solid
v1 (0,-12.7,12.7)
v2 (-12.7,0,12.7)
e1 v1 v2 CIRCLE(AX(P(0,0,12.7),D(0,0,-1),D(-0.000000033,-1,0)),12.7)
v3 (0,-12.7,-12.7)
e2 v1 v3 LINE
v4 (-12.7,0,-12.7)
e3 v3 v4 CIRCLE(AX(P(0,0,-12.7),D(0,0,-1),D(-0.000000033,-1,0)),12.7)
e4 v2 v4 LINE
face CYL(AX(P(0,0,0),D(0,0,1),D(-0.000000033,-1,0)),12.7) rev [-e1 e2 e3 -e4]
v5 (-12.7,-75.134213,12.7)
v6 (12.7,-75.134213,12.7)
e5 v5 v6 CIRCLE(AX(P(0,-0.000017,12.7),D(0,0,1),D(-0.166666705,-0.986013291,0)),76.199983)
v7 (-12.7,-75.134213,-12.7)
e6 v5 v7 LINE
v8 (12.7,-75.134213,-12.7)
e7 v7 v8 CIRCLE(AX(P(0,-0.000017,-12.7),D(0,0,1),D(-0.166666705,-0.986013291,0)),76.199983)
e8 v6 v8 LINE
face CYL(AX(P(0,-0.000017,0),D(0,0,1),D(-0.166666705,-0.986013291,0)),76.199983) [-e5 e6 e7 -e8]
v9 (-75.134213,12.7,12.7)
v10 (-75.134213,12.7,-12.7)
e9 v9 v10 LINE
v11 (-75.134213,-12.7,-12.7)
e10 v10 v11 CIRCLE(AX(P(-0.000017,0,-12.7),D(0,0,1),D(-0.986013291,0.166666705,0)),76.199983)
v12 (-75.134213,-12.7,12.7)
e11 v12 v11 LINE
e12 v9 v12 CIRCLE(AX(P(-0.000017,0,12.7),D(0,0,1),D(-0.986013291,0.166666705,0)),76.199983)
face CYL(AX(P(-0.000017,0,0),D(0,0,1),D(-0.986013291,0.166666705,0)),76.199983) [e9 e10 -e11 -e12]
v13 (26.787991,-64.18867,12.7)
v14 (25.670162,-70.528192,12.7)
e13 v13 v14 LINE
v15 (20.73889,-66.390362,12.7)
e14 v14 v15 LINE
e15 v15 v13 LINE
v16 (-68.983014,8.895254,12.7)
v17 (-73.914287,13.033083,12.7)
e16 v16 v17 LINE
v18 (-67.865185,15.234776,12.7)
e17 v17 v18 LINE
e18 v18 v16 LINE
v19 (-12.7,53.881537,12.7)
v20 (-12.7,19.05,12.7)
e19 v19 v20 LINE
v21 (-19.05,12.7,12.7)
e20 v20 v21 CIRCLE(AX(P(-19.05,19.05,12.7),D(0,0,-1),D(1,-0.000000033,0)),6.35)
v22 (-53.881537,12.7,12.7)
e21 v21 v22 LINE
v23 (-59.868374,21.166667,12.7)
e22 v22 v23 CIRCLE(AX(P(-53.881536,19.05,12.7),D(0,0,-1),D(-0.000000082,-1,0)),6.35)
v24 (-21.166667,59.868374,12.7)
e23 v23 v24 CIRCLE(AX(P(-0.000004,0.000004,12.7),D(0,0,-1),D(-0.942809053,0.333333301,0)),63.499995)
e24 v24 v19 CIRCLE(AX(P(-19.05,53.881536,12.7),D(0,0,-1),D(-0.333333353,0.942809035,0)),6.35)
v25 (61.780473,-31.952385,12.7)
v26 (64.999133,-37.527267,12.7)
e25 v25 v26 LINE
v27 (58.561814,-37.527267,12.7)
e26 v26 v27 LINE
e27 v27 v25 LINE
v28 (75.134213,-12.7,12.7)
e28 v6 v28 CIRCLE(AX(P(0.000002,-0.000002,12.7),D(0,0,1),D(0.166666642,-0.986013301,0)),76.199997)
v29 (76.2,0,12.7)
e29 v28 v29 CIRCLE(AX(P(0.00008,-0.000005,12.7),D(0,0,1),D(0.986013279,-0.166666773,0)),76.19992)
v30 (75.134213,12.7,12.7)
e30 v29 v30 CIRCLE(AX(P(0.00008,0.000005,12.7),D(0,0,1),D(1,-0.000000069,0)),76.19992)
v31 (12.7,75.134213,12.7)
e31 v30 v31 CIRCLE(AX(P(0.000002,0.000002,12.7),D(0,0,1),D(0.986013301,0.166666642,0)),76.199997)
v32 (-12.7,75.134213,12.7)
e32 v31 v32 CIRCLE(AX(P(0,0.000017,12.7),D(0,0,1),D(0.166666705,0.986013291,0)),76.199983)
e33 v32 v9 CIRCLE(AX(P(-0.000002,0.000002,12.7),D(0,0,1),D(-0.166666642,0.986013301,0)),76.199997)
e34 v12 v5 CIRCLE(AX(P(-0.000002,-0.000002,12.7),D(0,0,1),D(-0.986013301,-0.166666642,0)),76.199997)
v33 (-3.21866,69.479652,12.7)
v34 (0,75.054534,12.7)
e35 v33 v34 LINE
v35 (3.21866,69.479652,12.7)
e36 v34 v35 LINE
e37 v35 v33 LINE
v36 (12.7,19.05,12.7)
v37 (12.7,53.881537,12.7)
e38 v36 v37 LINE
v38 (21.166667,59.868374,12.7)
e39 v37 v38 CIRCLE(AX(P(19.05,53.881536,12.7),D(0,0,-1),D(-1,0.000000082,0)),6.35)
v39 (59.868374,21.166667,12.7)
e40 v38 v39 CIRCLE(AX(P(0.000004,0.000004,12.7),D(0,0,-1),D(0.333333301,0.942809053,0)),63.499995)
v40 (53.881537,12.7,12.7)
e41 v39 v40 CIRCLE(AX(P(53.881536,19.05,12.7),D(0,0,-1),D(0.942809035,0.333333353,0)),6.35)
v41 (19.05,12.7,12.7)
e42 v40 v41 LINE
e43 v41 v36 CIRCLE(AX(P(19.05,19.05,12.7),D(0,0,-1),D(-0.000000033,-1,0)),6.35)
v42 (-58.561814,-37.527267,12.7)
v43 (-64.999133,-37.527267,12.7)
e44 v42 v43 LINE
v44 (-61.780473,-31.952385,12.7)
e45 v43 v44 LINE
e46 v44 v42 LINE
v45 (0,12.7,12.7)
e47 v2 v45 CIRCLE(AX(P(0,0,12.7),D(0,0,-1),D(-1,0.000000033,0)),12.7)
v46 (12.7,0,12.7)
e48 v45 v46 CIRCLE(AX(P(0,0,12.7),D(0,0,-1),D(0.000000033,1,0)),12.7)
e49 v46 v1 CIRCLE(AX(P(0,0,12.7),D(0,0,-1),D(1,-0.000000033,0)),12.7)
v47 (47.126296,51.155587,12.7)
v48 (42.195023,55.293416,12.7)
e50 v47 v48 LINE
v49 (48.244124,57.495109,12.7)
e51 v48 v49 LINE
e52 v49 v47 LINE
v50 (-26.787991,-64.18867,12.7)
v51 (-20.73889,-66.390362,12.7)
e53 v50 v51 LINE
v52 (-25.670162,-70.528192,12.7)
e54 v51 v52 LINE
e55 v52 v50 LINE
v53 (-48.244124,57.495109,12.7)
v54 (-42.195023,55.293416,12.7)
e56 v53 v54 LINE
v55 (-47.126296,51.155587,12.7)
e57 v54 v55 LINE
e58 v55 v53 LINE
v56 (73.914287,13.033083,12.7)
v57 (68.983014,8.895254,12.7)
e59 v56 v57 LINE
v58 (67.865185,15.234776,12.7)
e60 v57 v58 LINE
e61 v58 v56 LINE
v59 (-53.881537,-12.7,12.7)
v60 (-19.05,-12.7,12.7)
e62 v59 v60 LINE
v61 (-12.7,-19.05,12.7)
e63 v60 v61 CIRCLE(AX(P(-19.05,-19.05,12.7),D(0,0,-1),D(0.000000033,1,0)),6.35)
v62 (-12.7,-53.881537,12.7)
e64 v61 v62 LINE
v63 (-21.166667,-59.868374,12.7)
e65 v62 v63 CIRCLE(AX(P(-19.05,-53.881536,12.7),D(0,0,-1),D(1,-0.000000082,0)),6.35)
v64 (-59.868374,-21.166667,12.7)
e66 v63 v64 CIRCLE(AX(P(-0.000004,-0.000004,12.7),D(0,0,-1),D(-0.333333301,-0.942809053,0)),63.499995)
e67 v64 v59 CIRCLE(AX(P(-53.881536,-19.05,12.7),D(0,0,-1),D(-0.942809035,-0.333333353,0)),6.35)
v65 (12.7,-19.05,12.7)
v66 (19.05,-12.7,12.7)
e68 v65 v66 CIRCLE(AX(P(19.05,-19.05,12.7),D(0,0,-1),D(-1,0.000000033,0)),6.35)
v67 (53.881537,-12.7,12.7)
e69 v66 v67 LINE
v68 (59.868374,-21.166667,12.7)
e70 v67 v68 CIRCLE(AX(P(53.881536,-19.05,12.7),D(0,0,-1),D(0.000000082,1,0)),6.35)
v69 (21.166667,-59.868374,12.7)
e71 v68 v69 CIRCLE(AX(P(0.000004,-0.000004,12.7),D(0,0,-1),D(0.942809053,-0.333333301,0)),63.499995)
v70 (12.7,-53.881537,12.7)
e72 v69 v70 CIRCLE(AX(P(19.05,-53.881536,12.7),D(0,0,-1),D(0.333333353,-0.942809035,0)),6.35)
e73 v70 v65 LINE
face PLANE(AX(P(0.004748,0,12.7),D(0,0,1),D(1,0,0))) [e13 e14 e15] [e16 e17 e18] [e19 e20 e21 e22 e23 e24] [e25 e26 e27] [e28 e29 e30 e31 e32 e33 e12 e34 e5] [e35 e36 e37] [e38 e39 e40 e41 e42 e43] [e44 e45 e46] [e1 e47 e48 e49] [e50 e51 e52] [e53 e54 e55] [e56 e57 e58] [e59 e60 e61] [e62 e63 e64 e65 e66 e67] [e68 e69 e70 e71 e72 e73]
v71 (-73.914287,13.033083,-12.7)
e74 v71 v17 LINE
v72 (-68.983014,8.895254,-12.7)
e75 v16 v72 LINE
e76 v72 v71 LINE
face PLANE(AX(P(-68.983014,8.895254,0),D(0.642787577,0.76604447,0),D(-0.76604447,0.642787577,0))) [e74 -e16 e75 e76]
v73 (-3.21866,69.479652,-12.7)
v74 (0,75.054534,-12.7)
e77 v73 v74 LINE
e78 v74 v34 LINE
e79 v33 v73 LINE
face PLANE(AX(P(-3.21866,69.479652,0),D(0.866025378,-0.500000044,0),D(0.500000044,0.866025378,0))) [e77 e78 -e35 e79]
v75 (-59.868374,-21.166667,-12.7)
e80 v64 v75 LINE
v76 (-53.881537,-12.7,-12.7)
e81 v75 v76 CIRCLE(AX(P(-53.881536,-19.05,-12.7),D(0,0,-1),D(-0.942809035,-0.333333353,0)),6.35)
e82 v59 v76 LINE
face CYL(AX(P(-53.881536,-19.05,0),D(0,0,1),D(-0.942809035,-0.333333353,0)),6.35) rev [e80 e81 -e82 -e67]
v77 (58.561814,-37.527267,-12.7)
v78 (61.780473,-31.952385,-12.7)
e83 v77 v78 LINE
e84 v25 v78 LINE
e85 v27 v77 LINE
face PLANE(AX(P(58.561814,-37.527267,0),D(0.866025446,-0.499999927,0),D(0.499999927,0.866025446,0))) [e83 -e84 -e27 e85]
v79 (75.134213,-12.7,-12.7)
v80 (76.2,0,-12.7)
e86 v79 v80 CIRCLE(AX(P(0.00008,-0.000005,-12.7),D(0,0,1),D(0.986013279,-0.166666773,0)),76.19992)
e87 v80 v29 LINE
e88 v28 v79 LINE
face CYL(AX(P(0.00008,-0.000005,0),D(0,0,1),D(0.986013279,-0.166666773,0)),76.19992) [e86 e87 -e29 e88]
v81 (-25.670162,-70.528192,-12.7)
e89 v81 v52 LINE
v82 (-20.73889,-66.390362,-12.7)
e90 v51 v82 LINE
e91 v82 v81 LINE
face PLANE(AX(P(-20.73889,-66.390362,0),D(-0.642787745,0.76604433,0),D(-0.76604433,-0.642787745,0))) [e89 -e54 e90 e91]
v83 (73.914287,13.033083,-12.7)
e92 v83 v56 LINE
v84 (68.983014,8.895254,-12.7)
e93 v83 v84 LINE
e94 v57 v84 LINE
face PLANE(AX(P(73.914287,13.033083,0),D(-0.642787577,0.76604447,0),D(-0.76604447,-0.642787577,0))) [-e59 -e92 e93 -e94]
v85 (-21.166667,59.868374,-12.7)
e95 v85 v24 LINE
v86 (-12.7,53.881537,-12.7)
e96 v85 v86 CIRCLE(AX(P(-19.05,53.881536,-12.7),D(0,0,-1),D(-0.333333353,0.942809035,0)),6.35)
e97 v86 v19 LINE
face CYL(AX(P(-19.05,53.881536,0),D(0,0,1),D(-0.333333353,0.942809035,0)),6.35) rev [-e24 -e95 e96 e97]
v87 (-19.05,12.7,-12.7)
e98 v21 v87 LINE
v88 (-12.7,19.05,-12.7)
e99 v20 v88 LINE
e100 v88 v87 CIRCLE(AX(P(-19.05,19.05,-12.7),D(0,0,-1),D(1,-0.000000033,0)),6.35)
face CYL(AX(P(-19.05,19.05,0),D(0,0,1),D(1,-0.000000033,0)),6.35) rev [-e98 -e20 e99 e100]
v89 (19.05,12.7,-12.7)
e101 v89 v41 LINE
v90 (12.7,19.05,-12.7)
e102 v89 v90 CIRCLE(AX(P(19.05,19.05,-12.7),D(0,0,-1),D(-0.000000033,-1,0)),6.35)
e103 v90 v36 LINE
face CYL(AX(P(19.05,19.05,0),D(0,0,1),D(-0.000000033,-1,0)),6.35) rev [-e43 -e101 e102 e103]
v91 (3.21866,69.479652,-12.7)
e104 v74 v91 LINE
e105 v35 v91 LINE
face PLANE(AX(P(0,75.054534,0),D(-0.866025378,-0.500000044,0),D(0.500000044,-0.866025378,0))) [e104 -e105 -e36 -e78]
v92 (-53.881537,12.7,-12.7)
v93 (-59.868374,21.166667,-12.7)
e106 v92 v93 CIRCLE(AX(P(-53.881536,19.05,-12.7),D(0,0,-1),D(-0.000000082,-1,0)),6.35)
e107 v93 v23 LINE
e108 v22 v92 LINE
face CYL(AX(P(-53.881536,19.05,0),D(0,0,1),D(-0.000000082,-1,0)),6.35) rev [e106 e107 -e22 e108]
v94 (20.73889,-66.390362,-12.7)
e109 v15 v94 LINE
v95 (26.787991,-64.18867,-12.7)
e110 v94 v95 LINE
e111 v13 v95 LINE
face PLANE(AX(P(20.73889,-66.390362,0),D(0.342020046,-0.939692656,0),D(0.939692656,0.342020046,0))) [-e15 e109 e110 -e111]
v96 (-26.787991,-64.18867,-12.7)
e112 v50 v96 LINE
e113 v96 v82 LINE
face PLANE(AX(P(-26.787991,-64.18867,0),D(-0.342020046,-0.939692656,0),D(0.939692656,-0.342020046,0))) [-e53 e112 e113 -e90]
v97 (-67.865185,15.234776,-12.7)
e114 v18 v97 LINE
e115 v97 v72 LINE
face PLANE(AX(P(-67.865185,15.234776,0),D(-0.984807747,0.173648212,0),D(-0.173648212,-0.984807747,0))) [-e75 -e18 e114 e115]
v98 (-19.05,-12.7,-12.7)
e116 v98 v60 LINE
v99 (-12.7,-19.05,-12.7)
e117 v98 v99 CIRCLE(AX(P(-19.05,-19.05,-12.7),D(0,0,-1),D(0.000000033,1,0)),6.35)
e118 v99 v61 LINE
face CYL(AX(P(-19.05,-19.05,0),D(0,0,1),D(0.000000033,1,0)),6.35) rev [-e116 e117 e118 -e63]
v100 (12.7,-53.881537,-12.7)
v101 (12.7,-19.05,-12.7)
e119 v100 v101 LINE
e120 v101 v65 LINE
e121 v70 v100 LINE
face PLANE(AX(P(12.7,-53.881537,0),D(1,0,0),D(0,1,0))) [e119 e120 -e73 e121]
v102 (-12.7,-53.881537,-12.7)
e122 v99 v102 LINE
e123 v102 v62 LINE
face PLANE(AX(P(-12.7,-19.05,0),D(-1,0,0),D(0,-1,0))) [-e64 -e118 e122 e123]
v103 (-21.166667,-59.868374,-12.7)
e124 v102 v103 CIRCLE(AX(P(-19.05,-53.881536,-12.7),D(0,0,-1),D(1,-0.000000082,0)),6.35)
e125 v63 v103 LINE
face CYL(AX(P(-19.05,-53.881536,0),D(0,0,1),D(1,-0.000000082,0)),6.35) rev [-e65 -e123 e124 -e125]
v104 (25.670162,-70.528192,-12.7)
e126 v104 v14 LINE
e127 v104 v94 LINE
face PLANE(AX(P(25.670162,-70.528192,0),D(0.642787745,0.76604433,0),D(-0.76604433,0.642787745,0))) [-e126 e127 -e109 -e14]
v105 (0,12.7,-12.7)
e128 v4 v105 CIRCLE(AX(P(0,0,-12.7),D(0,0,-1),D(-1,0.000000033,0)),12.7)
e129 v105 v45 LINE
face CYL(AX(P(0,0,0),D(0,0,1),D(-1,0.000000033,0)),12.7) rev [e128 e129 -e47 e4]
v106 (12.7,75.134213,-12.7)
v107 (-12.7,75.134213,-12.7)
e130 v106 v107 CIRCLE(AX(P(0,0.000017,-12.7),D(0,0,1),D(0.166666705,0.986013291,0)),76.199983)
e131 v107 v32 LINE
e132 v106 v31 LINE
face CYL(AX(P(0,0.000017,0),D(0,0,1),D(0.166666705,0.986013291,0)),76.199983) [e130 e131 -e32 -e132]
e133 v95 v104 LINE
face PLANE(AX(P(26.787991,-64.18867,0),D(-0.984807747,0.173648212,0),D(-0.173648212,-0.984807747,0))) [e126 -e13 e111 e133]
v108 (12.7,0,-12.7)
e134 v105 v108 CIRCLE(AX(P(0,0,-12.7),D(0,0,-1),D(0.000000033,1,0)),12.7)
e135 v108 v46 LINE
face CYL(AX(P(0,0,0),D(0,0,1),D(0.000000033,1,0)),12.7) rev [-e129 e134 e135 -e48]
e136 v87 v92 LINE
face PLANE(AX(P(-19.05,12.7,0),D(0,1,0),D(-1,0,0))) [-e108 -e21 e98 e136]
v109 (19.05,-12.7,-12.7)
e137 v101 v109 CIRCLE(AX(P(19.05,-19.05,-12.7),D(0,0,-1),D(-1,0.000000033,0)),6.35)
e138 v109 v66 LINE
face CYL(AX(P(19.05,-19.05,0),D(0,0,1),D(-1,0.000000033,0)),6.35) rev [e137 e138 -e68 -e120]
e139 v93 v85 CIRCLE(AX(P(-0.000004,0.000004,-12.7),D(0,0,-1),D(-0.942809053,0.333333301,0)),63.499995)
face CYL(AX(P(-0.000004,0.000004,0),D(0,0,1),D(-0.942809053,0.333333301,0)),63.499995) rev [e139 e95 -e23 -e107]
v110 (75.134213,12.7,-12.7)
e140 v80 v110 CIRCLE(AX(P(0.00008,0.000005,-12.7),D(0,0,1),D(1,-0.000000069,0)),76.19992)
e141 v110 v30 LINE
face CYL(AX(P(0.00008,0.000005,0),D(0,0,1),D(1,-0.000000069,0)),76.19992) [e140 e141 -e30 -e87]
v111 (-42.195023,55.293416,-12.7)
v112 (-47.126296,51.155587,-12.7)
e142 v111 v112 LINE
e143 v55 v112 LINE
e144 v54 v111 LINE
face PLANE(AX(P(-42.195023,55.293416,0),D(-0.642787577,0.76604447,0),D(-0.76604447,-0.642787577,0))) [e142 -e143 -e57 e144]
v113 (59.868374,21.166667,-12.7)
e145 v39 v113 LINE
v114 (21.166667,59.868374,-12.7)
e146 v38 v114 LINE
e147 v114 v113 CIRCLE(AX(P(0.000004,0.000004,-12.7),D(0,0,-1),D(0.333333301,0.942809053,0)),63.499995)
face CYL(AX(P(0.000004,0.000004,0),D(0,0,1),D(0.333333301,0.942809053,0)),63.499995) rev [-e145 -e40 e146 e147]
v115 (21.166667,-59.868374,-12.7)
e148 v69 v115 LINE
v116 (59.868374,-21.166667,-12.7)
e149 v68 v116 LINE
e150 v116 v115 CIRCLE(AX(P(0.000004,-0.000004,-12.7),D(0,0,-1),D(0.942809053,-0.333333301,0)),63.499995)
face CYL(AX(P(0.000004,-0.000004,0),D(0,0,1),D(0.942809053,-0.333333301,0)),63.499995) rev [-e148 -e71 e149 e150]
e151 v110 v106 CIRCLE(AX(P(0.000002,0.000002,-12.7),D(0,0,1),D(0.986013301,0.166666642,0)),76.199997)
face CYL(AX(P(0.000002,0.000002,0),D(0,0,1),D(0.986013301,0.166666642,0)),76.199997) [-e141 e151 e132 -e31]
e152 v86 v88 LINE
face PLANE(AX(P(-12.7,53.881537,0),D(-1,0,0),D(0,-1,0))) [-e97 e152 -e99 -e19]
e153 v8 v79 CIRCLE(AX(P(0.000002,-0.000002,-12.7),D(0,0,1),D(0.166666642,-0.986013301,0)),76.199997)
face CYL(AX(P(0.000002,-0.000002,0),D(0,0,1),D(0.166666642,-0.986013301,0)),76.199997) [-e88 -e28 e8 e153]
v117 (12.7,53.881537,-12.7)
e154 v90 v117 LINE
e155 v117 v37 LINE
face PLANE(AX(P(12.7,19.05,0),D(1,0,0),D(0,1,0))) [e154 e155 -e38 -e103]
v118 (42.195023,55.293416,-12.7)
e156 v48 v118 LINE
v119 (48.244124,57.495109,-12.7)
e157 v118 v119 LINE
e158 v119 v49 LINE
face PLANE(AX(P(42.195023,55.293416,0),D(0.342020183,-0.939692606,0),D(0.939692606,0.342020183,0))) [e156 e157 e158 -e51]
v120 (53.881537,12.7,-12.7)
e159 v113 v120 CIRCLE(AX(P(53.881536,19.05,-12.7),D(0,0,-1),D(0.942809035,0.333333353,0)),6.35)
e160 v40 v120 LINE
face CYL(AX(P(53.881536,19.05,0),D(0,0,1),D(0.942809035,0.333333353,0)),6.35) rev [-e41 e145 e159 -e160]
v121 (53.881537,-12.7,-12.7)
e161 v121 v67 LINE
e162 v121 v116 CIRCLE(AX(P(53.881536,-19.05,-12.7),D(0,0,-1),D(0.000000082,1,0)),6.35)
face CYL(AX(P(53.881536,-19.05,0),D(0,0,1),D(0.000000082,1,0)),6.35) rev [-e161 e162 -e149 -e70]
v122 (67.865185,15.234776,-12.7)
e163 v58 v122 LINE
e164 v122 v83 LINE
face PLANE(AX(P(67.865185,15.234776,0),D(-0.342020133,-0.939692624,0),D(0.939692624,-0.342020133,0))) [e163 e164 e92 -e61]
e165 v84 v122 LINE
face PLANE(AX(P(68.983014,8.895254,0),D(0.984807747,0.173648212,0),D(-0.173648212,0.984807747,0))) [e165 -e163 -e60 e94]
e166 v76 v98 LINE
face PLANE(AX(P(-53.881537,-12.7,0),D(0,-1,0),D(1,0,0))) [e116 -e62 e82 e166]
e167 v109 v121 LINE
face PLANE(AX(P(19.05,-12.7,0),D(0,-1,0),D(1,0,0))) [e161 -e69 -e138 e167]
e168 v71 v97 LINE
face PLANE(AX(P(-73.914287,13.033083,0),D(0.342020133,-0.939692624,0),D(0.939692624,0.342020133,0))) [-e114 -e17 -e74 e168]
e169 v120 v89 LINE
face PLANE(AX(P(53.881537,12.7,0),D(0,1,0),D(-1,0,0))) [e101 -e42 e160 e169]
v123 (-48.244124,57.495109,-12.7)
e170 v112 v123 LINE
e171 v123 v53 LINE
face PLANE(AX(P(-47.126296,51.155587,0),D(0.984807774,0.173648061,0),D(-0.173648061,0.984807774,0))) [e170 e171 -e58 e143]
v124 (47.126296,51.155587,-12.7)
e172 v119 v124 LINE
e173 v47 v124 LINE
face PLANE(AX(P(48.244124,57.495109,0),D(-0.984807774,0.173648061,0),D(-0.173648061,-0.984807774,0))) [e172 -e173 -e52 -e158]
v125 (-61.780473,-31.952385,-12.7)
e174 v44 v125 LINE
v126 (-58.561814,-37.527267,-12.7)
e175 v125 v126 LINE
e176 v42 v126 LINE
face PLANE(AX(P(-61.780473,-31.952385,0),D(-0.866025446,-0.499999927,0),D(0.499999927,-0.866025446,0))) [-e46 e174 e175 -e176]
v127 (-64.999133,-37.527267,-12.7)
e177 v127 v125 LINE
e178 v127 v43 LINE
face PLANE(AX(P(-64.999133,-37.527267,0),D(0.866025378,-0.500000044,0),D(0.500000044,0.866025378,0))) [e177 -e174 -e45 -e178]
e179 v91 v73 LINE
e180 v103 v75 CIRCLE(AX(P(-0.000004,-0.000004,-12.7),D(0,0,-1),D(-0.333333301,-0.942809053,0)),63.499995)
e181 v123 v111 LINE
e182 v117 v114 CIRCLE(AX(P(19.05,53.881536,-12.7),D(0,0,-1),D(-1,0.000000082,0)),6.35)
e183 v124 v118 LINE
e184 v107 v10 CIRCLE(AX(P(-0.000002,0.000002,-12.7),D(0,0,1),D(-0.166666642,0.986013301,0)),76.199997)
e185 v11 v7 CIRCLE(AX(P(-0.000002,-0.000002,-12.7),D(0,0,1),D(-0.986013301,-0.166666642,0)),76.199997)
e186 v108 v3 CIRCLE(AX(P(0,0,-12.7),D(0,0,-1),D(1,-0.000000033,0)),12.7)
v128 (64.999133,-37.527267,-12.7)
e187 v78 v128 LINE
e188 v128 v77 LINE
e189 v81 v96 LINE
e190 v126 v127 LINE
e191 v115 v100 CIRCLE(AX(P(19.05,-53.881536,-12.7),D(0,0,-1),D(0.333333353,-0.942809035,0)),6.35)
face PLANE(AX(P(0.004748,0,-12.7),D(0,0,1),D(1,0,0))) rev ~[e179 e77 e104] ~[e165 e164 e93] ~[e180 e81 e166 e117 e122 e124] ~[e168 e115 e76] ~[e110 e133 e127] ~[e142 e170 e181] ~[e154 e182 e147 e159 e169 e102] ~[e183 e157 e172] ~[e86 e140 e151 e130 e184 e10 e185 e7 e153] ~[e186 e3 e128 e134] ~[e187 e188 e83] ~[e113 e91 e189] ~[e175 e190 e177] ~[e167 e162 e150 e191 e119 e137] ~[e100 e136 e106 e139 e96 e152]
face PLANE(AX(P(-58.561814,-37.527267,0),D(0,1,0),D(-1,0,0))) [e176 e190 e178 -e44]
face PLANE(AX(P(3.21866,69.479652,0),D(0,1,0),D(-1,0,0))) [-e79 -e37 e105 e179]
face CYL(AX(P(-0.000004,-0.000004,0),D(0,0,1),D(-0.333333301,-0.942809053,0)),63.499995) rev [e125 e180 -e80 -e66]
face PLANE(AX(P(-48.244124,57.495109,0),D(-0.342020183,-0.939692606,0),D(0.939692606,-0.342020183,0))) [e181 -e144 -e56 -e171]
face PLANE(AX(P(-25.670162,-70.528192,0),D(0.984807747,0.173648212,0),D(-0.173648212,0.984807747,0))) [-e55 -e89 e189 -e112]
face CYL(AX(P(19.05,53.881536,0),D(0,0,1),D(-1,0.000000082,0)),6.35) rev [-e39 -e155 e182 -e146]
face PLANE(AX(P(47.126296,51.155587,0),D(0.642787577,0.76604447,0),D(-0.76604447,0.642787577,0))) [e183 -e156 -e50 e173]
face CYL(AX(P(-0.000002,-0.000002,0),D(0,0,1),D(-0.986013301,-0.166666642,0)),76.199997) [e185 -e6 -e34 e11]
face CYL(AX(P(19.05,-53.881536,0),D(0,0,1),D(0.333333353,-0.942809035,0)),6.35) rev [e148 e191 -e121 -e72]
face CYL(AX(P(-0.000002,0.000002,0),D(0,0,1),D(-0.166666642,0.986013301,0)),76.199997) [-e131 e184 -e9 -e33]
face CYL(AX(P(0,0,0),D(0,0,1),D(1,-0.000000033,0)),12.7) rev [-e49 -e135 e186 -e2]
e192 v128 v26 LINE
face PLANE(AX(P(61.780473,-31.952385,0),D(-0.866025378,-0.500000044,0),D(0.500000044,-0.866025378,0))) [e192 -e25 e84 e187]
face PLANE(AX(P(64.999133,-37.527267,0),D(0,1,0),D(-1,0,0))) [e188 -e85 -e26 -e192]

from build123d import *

# Parameters (mm, degrees)
F1_DEPTH = 12.7


with BuildPart() as f1:
    # F0 (on Top) → F1 (new body, symmetric)
    with BuildSketch(Plane.XY):
        with BuildLine():
            ThreePointArc((75.134213, -12.7), (75.933086, -6.372321), (76.2, 0))
            ThreePointArc((76.2, 0), (75.933086, 6.372321), (75.134213, 12.7))
            ThreePointArc((75.134213, 12.7), (53.881537, 53.881537), (12.7, 75.134213))
            ThreePointArc((12.7, 75.134213), (0, 76.2), (-12.7, 75.134213))
            ThreePointArc((-12.7, 75.134213), (-53.881537, 53.881537), (-75.134213, 12.7))
            ThreePointArc((-75.134213, 12.7), (-76.2, 0), (-75.134213, -12.7))
            ThreePointArc((-75.134213, -12.7), (-53.881537, -53.881537), (-12.7, -75.134213))
            ThreePointArc((-12.7, -75.134213), (0, -76.2), (12.7, -75.134213))
            ThreePointArc((12.7, -75.134213), (53.881537, -53.881537), (75.134213, -12.7))
        make_face()
        Polygon((-25.670162, -70.528192), (-26.787991, -64.18867), (-20.73889, -66.390362), align=None, mode=Mode.SUBTRACT)
        Polygon((-64.999133, -37.527267), (-61.780473, -31.952385), (-58.561814, -37.527267), align=None, mode=Mode.SUBTRACT)
        with BuildLine():
            Line((-34.771706, -12.7), (-19.05, -12.7))
            ThreePointArc((-19.05, -12.7), (-14.559872, -14.559872), (-12.7, -19.05))
            Line((-12.7, -19.05), (-12.7, -34.771706))
            Line((-12.7, -34.771706), (-12.7, -45.838683))
            Line((-12.7, -45.838683), (-12.7, -53.881537))
            ThreePointArc((-12.7, -53.881537), (-15.383826, -59.06629), (-21.166667, -59.868374))
            ThreePointArc((-21.166667, -59.868374), (-44.901281, -44.901281), (-59.868374, -21.166667))
            ThreePointArc((-59.868374, -21.166667), (-59.06629, -15.383826), (-53.881537, -12.7))
            Line((-53.881537, -12.7), (-45.838683, -12.7))
            Line((-45.838683, -12.7), (-34.771706, -12.7))
        make_face(mode=Mode.SUBTRACT)
        Polygon((25.670162, -70.528192), (20.73889, -66.390362), (26.787991, -64.18867), align=None, mode=Mode.SUBTRACT)
        with BuildLine():
            ThreePointArc((12.7, -19.05), (14.559872, -14.559872), (19.05, -12.7))
            Line((19.05, -12.7), (34.771706, -12.7))
            Line((34.771706, -12.7), (45.838683, -12.7))
            Line((45.838683, -12.7), (53.881537, -12.7))
            ThreePointArc((53.881537, -12.7), (59.06629, -15.383826), (59.868374, -21.166667))
            ThreePointArc((59.868374, -21.166667), (44.901281, -44.901281), (21.166667, -59.868374))
            ThreePointArc((21.166667, -59.868374), (15.383826, -59.06629), (12.7, -53.881537))
            Line((12.7, -53.881537), (12.7, -45.838683))
            Line((12.7, -45.838683), (12.7, -34.771706))
            Line((12.7, -34.771706), (12.7, -19.05))
        make_face(mode=Mode.SUBTRACT)
        Polygon((64.999133, -37.527267), (58.561814, -37.527267), (61.780473, -31.952385), align=None, mode=Mode.SUBTRACT)
        Polygon((-73.914287, 13.033083), (-67.865185, 15.234776), (-68.983014, 8.895254), align=None, mode=Mode.SUBTRACT)
        with BuildLine():
            ThreePointArc((-59.868374, 21.166667), (-44.901281, 44.901281), (-21.166667, 59.868374))
            ThreePointArc((-21.166667, 59.868374), (-15.383826, 59.06629), (-12.7, 53.881537))
            Line((-12.7, 53.881537), (-12.7, 45.838683))
            Line((-12.7, 45.838683), (-12.7, 34.771706))
            Line((-12.7, 34.771706), (-12.7, 19.05))
            ThreePointArc((-12.7, 19.05), (-14.559872, 14.559872), (-19.05, 12.7))
            Line((-19.05, 12.7), (-34.771706, 12.7))
            Line((-34.771706, 12.7), (-45.838683, 12.7))
            Line((-45.838683, 12.7), (-53.881537, 12.7))
            ThreePointArc((-53.881537, 12.7), (-59.06629, 15.383826), (-59.868374, 21.166667))
        make_face(mode=Mode.SUBTRACT)
        Polygon((-48.244124, 57.495109), (-42.195023, 55.293416), (-47.126296, 51.155587), align=None, mode=Mode.SUBTRACT)
        with BuildLine():
            ThreePointArc((0, 12.7), (8.980256, 8.980256), (12.7, 0))
            ThreePointArc((12.7, 0), (8.980256, -8.980256), (0, -12.7))
            ThreePointArc((0, -12.7), (-8.980256, -8.980256), (-12.7, 0))
            ThreePointArc((-12.7, 0), (-8.980256, 8.980256), (0, 12.7))
        make_face(mode=Mode.SUBTRACT)
        with BuildLine():
            ThreePointArc((19.05, 12.7), (14.559872, 14.559872), (12.7, 19.05))
            Line((12.7, 19.05), (12.7, 34.771706))
            Line((12.7, 34.771706), (12.7, 45.838683))
            Line((12.7, 45.838683), (12.7, 53.881537))
            ThreePointArc((12.7, 53.881537), (15.383826, 59.06629), (21.166667, 59.868374))
            ThreePointArc((21.166667, 59.868374), (44.901281, 44.901281), (59.868374, 21.166667))
            ThreePointArc((59.868374, 21.166667), (59.06629, 15.383826), (53.881537, 12.7))
            Line((53.881537, 12.7), (45.838683, 12.7))
            Line((45.838683, 12.7), (34.771706, 12.7))
            Line((34.771706, 12.7), (19.05, 12.7))
        make_face(mode=Mode.SUBTRACT)
        Polygon((73.914287, 13.033083), (68.983014, 8.895254), (67.865185, 15.234776), align=None, mode=Mode.SUBTRACT)
        Polygon((0, 75.054534), (3.21866, 69.479652), (-3.21866, 69.479652), align=None, mode=Mode.SUBTRACT)
        Polygon((48.244124, 57.495109), (47.126296, 51.155587), (42.195023, 55.293416), align=None, mode=Mode.SUBTRACT)
    extrude(amount=F1_DEPTH, both=True)


solid = f1.part
